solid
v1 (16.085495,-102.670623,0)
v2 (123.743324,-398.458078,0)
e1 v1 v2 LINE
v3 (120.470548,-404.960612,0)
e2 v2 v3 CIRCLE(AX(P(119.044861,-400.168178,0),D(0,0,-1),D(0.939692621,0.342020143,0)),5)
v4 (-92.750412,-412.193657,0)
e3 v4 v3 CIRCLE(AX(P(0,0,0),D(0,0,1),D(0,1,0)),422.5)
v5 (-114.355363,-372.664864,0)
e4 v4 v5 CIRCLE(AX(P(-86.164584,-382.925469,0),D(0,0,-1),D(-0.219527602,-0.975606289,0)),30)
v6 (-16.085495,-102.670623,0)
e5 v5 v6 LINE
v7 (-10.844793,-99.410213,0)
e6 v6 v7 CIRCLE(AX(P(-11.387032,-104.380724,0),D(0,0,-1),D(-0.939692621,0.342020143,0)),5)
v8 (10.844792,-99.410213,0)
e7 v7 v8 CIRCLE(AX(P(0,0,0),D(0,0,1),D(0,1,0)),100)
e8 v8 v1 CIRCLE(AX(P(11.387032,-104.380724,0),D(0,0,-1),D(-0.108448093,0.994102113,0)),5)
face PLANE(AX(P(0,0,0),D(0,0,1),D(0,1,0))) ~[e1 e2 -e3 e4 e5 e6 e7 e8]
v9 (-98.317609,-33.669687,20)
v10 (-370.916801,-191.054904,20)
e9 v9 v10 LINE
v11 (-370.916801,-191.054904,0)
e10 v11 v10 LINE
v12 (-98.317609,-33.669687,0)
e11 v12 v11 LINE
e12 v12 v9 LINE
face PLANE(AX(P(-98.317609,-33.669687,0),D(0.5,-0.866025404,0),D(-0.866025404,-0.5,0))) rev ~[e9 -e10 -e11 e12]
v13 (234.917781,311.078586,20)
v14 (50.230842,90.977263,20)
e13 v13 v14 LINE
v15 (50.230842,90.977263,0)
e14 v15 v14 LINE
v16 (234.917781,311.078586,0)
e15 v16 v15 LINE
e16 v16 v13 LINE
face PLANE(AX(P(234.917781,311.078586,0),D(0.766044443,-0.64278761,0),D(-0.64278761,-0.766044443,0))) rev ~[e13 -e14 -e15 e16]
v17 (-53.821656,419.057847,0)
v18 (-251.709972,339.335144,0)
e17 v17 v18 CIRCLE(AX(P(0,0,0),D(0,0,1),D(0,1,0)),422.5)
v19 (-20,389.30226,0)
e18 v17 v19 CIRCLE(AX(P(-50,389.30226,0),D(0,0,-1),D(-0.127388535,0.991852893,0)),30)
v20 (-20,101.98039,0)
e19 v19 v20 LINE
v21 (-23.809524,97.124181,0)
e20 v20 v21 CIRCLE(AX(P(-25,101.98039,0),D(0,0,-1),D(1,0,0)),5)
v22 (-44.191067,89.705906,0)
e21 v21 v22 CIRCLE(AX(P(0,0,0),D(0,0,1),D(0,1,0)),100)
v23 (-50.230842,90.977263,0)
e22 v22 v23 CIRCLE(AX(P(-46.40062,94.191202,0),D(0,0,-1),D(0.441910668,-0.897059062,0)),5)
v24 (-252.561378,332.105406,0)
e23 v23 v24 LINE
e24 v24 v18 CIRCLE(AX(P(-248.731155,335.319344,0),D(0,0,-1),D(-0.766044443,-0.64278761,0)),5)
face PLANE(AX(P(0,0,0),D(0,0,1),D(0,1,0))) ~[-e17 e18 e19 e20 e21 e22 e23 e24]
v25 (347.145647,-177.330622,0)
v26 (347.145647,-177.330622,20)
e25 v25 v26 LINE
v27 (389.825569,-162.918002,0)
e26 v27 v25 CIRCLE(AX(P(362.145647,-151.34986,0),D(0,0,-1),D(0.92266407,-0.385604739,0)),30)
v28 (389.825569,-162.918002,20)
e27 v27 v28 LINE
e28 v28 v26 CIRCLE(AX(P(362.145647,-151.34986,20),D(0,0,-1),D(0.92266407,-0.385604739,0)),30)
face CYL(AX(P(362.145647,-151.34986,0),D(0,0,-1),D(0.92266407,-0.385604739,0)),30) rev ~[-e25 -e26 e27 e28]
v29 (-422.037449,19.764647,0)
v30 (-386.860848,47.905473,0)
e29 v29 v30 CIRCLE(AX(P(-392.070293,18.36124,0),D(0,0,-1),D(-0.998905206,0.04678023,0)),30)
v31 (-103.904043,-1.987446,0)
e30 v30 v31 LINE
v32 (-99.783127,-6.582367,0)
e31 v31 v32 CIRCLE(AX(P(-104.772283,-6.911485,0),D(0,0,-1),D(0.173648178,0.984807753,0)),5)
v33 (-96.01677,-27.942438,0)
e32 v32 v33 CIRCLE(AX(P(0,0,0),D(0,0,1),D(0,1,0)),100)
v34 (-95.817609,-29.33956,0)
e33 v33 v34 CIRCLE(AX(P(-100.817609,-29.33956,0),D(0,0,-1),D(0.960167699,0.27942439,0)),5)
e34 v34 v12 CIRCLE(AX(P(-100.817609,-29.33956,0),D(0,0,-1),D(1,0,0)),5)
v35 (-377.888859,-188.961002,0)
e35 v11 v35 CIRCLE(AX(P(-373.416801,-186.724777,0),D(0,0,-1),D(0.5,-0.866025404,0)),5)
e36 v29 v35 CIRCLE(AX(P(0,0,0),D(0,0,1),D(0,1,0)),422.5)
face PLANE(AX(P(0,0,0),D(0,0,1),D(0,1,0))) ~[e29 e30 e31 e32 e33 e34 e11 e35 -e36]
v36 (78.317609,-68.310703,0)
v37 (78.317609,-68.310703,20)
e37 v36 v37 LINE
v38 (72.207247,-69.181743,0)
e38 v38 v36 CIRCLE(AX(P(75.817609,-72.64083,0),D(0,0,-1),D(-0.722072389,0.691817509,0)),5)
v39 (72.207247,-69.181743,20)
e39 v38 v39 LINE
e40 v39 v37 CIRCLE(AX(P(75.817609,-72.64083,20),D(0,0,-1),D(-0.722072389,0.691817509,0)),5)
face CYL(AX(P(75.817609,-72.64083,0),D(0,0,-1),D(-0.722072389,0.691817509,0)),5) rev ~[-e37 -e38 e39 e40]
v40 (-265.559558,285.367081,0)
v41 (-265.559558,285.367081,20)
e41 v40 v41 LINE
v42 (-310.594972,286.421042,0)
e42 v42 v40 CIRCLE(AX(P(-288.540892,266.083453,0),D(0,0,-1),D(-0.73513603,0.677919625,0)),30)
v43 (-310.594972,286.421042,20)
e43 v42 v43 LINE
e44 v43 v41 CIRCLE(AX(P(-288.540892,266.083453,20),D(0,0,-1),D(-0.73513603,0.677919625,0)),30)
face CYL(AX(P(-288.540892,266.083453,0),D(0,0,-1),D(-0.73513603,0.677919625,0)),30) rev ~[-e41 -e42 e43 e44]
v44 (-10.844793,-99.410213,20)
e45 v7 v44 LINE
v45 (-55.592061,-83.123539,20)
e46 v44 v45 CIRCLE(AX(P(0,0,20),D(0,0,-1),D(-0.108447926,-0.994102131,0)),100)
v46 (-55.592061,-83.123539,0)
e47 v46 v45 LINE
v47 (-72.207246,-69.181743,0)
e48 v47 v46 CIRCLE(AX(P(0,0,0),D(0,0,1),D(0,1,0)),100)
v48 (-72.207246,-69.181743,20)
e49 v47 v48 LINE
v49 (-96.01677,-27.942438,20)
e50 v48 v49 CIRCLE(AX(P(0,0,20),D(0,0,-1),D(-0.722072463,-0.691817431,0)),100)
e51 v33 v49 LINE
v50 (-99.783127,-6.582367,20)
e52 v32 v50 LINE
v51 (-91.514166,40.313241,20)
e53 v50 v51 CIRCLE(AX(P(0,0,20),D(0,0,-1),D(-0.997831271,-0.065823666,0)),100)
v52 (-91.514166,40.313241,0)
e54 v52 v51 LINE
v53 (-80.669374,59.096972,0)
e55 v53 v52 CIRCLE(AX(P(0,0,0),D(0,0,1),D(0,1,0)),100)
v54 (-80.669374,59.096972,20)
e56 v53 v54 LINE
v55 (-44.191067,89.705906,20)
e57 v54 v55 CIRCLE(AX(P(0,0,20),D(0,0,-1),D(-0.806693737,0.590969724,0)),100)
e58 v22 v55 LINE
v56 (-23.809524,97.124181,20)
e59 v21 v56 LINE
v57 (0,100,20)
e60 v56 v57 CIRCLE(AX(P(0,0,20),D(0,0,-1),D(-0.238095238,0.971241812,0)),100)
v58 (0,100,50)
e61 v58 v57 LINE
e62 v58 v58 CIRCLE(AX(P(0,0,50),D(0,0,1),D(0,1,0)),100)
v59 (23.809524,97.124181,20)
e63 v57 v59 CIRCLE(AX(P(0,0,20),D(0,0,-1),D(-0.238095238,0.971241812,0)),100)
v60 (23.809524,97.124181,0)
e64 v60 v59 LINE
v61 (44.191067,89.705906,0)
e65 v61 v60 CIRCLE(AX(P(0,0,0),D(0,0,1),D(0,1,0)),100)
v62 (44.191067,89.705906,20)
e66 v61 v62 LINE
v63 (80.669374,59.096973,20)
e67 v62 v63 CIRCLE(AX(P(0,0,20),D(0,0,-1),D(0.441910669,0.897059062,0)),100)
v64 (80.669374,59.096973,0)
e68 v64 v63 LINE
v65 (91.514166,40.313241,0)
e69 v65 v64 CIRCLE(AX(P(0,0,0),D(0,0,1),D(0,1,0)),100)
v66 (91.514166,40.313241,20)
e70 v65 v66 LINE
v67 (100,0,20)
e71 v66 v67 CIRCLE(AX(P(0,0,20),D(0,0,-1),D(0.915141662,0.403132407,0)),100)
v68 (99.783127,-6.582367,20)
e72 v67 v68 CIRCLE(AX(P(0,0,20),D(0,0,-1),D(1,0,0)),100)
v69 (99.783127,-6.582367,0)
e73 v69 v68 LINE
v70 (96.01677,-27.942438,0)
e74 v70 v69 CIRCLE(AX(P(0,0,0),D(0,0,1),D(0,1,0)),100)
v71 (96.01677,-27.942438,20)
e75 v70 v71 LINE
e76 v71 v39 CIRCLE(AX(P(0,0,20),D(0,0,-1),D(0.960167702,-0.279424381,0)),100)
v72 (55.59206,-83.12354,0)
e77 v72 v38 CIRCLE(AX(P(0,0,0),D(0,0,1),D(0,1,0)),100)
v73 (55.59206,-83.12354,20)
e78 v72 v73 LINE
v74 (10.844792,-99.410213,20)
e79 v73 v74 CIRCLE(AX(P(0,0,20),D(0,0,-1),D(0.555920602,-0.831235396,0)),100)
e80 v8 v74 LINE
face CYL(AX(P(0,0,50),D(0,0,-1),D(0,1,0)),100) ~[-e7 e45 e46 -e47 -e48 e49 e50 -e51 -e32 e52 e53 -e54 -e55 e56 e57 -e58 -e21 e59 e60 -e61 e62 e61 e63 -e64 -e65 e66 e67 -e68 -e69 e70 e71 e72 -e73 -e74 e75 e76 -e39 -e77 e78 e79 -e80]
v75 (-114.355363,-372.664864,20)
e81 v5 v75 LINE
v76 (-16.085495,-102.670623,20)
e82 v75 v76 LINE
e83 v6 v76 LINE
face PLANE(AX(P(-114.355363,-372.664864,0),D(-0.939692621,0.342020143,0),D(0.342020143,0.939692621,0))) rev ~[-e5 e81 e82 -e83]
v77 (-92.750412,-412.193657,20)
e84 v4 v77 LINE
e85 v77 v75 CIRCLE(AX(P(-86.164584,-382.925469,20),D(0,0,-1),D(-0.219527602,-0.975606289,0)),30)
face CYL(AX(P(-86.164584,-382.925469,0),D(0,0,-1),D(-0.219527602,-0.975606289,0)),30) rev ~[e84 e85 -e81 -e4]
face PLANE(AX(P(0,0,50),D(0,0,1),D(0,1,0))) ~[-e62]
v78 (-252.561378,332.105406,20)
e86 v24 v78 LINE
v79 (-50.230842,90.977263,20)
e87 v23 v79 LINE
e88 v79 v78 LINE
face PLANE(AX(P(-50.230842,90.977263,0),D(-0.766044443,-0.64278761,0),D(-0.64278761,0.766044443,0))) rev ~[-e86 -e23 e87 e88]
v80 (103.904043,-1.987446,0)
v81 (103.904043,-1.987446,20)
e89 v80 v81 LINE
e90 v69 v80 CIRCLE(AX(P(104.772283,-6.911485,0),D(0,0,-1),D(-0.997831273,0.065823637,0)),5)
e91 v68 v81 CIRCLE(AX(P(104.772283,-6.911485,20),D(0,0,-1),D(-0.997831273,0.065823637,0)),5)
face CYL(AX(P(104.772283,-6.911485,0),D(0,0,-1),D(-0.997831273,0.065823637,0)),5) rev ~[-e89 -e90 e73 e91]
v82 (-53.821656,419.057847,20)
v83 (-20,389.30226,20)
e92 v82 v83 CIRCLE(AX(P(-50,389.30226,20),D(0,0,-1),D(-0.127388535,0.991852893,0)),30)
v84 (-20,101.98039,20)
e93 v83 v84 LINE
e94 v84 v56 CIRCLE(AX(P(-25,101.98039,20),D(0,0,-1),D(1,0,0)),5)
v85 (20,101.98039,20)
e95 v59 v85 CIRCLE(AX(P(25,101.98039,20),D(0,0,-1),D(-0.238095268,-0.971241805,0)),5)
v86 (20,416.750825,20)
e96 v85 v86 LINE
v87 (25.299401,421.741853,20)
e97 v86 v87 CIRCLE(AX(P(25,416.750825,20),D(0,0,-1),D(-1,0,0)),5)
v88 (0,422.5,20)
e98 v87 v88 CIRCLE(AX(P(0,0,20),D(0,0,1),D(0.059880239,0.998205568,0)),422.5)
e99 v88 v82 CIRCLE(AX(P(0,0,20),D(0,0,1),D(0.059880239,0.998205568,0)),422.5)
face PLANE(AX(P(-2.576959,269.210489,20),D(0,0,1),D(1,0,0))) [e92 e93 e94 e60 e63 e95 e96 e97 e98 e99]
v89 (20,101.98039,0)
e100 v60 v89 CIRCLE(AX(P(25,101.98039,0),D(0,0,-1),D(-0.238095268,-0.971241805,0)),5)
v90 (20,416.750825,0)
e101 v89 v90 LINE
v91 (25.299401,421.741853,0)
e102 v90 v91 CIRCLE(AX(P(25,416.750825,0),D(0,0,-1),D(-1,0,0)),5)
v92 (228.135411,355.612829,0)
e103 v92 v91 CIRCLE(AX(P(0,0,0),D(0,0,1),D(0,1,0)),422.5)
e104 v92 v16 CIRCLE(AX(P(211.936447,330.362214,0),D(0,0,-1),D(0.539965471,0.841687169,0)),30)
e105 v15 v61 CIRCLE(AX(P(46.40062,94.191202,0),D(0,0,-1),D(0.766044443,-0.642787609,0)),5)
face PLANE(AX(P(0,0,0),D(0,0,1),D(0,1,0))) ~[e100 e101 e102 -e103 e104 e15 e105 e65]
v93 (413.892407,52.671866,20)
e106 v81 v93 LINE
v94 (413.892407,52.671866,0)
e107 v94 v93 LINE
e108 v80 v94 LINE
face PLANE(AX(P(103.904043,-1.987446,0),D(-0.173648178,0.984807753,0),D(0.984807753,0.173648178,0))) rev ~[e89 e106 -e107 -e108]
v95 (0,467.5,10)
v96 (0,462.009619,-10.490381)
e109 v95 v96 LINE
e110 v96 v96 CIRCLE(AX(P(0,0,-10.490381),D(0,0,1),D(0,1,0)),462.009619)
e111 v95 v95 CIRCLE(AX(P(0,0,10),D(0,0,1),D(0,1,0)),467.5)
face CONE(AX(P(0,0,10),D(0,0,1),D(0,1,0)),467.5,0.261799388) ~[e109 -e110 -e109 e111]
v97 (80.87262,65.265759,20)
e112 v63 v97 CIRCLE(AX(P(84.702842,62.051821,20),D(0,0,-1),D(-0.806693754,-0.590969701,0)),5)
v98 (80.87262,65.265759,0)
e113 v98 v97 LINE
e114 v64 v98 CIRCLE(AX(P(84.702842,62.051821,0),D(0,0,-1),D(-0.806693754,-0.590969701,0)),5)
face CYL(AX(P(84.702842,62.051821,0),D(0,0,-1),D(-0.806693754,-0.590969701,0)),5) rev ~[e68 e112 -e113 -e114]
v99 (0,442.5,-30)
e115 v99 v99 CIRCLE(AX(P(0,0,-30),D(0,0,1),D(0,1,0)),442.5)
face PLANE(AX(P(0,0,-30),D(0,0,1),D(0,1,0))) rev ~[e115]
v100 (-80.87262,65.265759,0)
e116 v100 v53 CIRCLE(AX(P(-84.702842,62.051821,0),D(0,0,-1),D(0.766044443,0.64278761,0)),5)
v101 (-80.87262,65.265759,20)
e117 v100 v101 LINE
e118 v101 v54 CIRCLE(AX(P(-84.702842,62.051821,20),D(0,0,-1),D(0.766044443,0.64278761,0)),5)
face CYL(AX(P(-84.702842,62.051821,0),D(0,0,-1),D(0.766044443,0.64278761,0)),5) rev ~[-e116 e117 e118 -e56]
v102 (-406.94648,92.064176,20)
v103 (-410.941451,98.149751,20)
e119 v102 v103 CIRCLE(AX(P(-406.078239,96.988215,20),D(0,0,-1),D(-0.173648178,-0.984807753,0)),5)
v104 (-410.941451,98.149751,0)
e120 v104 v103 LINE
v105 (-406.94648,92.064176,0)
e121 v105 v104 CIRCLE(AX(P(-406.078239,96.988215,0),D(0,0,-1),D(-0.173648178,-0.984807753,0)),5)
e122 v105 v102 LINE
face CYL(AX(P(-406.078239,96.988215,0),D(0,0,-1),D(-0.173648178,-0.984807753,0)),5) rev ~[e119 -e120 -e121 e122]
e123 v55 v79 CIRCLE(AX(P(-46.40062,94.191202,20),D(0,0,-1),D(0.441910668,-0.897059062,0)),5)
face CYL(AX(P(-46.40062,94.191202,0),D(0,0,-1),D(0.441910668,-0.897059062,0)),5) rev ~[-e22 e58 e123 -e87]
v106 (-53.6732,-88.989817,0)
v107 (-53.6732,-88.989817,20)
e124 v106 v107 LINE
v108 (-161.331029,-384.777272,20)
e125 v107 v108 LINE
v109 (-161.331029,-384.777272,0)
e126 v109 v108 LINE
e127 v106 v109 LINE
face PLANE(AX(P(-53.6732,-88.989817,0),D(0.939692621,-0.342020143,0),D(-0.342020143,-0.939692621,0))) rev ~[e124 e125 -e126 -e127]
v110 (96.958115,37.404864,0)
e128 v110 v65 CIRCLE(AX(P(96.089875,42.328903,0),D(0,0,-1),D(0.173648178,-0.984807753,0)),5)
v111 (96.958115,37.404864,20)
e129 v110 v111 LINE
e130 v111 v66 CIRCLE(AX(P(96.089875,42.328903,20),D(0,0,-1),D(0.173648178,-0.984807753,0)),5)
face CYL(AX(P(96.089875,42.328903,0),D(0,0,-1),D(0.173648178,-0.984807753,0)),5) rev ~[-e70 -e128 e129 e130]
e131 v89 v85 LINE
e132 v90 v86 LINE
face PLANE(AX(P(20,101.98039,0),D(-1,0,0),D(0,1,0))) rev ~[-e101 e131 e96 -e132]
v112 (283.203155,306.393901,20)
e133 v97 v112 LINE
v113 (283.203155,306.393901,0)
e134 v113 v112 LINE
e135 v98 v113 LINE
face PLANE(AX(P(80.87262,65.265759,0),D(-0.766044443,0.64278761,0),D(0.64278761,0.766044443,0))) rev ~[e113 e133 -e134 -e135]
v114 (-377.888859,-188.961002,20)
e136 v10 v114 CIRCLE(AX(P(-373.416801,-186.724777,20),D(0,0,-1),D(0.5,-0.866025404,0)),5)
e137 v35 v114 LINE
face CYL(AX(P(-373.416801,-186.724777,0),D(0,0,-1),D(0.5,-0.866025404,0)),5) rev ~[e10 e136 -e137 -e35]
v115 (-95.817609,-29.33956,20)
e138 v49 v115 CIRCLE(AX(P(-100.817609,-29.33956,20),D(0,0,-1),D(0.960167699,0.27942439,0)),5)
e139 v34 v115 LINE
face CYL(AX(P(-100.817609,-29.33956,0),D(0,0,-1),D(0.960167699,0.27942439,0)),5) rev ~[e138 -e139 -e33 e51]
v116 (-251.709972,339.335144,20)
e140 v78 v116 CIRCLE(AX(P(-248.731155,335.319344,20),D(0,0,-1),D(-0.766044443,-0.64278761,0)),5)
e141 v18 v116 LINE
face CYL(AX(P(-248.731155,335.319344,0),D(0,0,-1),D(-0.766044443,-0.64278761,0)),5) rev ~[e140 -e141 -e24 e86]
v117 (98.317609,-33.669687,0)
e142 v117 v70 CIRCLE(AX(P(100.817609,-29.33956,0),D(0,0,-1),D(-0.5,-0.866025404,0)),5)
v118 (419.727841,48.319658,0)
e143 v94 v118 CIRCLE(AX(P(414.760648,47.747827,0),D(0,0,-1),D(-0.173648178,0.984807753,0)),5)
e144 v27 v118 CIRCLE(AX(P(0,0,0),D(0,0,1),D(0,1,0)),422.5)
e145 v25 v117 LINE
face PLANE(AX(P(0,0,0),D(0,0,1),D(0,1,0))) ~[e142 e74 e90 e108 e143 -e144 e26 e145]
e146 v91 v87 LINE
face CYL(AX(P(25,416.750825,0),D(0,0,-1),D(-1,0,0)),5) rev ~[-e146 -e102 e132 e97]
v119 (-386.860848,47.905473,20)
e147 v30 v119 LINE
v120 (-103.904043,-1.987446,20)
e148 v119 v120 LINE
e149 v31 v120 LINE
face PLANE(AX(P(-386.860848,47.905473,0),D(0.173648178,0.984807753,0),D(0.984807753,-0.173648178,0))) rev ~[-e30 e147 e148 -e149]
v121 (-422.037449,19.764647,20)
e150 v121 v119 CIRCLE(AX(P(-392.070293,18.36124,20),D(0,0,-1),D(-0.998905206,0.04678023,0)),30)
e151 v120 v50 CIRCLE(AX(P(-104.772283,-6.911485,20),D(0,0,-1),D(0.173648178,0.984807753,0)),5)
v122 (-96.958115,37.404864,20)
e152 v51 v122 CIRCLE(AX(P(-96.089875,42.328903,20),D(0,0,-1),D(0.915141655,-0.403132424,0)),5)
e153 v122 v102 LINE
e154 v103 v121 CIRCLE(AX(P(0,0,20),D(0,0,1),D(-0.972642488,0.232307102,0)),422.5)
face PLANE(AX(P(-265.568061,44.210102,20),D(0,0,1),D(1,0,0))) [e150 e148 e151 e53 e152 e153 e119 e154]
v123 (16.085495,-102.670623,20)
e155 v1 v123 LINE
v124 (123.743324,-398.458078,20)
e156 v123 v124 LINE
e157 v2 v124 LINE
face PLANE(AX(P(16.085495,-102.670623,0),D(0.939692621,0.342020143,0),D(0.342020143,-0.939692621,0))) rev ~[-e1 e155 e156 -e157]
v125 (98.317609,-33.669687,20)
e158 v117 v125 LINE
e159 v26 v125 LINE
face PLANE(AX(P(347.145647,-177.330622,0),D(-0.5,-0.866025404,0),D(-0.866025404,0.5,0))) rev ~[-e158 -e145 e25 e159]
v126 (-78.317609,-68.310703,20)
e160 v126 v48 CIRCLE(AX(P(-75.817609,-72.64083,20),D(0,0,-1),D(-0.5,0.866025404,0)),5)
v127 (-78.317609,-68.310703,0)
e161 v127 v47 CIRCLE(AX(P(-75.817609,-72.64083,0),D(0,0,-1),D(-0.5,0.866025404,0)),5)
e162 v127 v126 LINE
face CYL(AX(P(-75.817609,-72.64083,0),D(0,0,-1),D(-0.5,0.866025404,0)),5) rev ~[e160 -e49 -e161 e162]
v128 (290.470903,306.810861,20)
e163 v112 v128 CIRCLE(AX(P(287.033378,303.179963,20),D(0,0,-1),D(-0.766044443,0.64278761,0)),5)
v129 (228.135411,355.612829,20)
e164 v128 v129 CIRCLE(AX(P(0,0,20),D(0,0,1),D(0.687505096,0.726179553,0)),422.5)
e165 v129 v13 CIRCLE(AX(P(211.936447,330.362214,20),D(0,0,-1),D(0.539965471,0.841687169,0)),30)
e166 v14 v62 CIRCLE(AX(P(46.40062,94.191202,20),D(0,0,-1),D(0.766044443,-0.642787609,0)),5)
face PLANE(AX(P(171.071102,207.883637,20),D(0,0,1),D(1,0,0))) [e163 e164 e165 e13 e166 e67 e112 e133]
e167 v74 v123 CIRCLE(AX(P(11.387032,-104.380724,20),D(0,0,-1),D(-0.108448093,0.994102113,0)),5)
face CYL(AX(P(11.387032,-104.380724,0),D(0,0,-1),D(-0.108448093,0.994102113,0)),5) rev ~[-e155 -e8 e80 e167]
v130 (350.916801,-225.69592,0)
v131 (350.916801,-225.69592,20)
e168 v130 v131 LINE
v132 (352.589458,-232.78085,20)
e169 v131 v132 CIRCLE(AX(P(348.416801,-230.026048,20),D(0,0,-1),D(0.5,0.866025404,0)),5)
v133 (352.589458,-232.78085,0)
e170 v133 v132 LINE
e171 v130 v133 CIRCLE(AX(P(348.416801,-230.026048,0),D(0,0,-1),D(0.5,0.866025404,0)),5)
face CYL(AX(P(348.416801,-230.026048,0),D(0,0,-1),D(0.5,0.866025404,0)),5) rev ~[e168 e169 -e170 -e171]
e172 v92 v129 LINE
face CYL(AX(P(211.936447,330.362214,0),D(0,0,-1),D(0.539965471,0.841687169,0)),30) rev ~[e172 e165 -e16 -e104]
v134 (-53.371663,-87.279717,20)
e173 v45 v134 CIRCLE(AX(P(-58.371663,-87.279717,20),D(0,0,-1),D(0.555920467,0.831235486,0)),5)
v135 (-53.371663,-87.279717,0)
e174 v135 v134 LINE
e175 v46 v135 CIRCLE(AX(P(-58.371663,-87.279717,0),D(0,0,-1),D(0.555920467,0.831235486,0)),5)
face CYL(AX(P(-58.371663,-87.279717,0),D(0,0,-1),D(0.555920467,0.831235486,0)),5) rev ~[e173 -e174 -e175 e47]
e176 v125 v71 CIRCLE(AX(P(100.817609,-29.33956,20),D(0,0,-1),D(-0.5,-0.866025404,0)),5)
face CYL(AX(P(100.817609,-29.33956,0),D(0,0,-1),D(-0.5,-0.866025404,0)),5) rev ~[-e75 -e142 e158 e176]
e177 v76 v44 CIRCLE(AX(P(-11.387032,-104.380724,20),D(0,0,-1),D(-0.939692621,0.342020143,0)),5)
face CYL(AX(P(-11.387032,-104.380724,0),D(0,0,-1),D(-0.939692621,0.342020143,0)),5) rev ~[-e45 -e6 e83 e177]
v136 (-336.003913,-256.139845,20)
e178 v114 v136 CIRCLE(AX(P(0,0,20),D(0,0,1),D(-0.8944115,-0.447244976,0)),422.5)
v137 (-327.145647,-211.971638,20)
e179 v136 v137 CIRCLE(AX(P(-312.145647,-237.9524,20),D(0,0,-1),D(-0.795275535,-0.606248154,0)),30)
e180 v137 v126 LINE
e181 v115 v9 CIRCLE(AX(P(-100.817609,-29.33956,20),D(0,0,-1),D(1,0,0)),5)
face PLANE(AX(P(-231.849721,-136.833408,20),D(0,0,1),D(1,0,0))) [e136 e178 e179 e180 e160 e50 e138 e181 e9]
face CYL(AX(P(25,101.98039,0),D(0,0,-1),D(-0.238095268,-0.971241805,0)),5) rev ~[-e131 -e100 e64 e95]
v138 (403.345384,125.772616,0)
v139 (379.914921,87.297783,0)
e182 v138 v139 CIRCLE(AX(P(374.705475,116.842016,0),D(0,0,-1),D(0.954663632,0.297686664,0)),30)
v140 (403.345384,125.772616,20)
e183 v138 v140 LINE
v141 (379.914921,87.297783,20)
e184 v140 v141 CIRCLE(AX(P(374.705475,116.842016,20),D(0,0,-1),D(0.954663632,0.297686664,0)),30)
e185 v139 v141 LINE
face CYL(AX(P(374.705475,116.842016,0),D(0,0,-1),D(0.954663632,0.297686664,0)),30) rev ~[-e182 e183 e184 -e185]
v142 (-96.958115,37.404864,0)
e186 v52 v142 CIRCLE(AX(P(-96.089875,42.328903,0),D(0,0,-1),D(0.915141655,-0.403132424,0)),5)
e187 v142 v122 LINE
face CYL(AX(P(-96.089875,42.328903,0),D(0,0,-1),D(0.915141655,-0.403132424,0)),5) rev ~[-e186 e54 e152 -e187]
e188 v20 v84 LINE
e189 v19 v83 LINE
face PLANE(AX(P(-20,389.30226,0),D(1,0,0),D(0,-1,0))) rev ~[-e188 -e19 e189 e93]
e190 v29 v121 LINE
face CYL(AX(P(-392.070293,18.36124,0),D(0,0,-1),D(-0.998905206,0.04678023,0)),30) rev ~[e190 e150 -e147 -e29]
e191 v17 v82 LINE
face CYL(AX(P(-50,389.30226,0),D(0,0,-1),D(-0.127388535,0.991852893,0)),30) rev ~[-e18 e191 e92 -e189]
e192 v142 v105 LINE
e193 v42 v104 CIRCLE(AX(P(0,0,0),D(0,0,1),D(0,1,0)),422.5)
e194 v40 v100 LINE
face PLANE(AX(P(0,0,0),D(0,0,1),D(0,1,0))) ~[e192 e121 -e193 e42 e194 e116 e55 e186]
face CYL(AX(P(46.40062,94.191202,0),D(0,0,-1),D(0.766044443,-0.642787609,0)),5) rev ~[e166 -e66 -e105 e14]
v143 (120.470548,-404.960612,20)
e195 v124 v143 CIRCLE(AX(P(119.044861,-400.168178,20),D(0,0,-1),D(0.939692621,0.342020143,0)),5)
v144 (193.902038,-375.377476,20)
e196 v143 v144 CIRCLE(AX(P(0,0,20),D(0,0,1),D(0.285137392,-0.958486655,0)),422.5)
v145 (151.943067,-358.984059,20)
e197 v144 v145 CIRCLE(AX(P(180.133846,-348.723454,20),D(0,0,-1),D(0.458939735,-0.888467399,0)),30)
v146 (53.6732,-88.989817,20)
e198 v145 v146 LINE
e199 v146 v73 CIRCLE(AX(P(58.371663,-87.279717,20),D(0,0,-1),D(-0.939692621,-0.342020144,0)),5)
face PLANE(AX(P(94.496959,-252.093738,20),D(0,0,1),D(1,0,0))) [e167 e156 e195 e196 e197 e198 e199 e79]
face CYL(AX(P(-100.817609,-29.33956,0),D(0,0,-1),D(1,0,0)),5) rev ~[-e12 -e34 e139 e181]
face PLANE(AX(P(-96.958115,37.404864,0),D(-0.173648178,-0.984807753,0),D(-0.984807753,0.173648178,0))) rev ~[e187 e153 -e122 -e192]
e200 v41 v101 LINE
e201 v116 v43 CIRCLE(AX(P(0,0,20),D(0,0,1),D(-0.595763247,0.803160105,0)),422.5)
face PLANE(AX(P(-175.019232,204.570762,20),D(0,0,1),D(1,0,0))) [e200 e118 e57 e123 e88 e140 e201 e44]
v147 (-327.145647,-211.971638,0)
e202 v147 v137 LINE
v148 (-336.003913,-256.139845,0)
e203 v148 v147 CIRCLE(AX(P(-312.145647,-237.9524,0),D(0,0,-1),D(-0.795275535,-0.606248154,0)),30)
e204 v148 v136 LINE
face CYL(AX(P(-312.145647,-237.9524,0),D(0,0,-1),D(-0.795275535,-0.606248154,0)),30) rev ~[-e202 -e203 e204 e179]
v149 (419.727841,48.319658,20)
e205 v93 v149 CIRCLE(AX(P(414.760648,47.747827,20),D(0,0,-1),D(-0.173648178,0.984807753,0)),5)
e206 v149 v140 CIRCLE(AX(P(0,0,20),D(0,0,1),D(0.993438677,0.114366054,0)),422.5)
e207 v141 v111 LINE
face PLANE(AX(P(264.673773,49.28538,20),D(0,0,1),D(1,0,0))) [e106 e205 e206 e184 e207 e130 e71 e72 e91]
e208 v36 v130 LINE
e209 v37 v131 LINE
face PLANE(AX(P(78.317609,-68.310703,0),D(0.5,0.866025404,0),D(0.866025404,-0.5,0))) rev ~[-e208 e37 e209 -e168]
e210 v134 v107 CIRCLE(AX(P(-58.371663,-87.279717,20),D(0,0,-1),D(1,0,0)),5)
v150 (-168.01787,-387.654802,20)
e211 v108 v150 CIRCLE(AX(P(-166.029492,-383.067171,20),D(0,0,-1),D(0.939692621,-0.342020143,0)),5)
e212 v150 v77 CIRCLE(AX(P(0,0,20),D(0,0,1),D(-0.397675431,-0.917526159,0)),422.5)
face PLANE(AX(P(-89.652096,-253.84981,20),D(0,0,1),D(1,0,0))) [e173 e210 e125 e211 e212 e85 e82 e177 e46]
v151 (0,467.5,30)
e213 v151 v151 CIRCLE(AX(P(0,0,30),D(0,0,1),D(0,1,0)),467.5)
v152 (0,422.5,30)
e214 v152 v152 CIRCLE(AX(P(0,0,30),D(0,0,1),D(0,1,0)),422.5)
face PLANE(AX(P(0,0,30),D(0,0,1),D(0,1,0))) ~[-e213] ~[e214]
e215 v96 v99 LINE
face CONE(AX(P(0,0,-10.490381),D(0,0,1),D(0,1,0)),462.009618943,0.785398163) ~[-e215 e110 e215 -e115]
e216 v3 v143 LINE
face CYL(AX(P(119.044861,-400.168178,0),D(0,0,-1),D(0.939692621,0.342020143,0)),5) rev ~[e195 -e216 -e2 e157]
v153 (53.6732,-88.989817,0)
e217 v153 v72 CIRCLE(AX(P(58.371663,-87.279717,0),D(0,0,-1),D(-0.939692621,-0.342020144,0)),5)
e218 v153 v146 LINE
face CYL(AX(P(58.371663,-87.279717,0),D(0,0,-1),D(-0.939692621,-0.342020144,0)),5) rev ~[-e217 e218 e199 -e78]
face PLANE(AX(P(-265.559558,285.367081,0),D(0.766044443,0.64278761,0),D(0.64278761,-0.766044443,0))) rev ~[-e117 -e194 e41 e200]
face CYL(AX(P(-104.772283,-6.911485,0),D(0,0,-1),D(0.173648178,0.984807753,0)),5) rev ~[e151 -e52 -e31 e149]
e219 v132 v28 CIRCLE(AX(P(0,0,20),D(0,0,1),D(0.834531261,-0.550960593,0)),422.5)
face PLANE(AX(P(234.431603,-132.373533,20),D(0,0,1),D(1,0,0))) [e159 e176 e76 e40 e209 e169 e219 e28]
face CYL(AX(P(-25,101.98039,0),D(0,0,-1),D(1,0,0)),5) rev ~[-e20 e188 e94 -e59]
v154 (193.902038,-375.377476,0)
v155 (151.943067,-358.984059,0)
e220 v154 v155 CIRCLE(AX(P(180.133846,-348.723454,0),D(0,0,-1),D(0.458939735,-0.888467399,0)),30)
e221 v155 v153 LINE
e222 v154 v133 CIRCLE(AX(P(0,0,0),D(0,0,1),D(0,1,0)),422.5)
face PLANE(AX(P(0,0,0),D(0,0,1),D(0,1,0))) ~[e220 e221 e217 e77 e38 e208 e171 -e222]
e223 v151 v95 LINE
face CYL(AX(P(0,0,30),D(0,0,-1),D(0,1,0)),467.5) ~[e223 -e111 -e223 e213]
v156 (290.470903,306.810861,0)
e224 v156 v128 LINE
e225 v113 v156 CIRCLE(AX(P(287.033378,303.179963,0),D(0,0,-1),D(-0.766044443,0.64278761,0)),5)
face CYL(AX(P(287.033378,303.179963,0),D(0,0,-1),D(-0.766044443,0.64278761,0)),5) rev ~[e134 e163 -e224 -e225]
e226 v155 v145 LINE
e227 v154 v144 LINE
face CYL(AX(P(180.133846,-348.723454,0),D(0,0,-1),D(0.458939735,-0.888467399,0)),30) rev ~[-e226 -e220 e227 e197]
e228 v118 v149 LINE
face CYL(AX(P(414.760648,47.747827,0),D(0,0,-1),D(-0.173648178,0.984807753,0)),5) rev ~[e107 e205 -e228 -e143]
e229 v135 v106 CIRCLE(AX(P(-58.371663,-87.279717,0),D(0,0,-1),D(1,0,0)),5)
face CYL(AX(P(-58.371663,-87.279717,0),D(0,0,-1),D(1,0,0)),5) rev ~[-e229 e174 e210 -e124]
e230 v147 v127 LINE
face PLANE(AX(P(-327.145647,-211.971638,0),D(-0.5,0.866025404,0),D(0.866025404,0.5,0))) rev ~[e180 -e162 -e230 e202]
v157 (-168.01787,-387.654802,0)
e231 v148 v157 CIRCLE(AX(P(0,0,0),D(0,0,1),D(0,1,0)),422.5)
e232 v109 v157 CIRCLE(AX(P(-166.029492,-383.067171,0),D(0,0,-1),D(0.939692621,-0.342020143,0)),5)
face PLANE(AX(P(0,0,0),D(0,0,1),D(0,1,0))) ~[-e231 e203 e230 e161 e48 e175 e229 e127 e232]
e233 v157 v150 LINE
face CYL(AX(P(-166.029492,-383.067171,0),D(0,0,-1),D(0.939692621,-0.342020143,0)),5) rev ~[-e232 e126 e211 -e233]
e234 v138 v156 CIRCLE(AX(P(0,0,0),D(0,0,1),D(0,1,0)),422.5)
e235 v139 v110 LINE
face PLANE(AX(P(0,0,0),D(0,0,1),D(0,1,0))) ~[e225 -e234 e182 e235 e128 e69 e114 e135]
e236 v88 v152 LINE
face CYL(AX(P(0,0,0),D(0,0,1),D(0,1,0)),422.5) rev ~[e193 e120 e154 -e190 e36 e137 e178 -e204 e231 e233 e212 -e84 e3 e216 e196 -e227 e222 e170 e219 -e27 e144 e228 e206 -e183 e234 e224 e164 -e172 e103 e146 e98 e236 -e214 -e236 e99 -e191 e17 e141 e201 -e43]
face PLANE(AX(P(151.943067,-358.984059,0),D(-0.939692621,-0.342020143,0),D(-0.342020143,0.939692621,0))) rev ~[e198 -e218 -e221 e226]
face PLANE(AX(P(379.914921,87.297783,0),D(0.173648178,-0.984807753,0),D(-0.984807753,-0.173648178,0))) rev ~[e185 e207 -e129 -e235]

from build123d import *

# Parameters (mm, degrees)
BOSS_EXTRUDE2_DEPTH = 20


with BuildPart() as part:
    # Sketch1 → Revolve2 (revolve)
    with BuildSketch(Plane(origin=(0, 0, 0), x_dir=(0, 0, -1), z_dir=(1, 0, 0))):
        Polygon((-50, 0), (-50, 100), (0, 100), (0, 422.5), (-30, 422.5), (-30, 467.5), (-10, 467.5), (10.490381057, 462.009618943), (30, 442.5), (30, 0), align=None)
    revolve(axis=Axis((0, 0, -30), (0, 0, 1)))

    # Sketch2 → Boss-Extrude2 (add)
    with BuildSketch(Plane.XY):
        with BuildLine():
            ThreePointArc((20, 416.750824834), (21.571954346, 420.390674143), (25.299401198, 421.741852677))
            ThreePointArc((25.299401198, 421.741852677), (-14.324130925, 422.257112756), (-53.821656051, 419.057847248))
            ThreePointArc((-53.821656051, 419.057847248), (-30.183967117, 411.826133147), (-20, 389.302260461))
            Line((-20, 389.302260461), (-20, 101.980390272))
            ThreePointArc((-20, 101.980390272), (-21.066021038, 98.894323273), (-23.80952381, 97.124181211))
            ThreePointArc((-23.80952381, 97.124181211), (-7.6e-08, 100), (23.809523662, 97.124181247))
            ThreePointArc((23.809523662, 97.124181247), (21.066020991, 98.894323332), (20, 101.980390272))
            Line((20, 101.980390272), (20, 416.750824834))
        make_face()
        with BuildLine():
            Line((80.87262016, 65.265759081), (283.203155392, 306.393901336))
            ThreePointArc((283.203155392, 306.393901336), (286.746992321, 308.171754896), (290.470903088, 306.810861051))
            ThreePointArc((290.470903088, 306.810861051), (260.448719284, 332.675088673), (228.135411415, 355.612828872))
            ThreePointArc((228.135411415, 355.612828872), (241.594475451, 334.879000902), (234.917780585, 311.078585513))
            Line((234.917780585, 311.078585513), (50.230842435, 90.977263469))
            ThreePointArc((50.230842435, 90.977263469), (47.430537313, 89.298424107), (44.191066876, 89.705906207))
            ThreePointArc((44.191066876, 89.705906207), (64.278760914, 76.604444358), (80.669373607, 59.096972527))
            ThreePointArc((80.669373607, 59.096972527), (79.705554025, 62.216469562), (80.87262016, 65.265759081))
        make_face()
        with BuildLine():
            ThreePointArc((419.7278412, 48.319657717), (413.354719175, 87.430693327), (403.345384438, 125.772615671))
            ThreePointArc((403.345384438, 125.772615671), (400.328177931, 101.23826237), (379.914920814, 87.297783151))
            Line((379.914920814, 87.297783151), (96.958115442, 37.404863989))
            ThreePointArc((96.958115442, 37.404863989), (93.733820124, 37.918799861), (91.514166241, 40.313240718))
            ThreePointArc((91.514166241, 40.313240718), (97.855548193, 20.598341874), (100, 0))
            ThreePointArc((100, 0), (99.945767062, -3.292969231), (99.783127073, -6.582366715))
            ThreePointArc((99.783127073, -6.582366715), (101.049972403, -3.57316188), (103.904042548, -1.987446132))
            Line((103.904042548, -1.987446132), (413.892406924, 52.671866213))
            ThreePointArc((413.892406924, 52.671866213), (417.749925751, 51.755846586), (419.7278412, 48.319657717))
        make_face()
        with BuildLine():
            ThreePointArc((-252.561377668, 332.105405723), (-253.696840813, 335.904124837), (-251.709971685, 339.335144296))
            ThreePointArc((-251.709971685, 339.335144296), (-282.39456108, 314.260340916), (-310.59497249, 286.421041587))
            ThreePointArc((-310.59497249, 286.421041587), (-287.838996013, 296.075240754), (-265.55955831, 285.367081126))
            Line((-265.55955831, 285.367081126), (-80.87262016, 65.265759081))
            ThreePointArc((-80.87262016, 65.265759081), (-79.705554022, 62.216469491), (-80.669373691, 59.096972412))
            ThreePointArc((-80.669373691, 59.096972412), (-64.27876097, 76.604444311), (-44.191066878, 89.705906206))
            ThreePointArc((-44.191066878, 89.705906206), (-47.430537315, 89.298424108), (-50.230842435, 90.977263469))
            Line((-50.230842435, 90.977263469), (-252.561377668, 332.105405723))
        make_face()
        with BuildLine():
            ThreePointArc((-406.946479818, 92.064176334), (-410.25806463, 94.244302361), (-410.941451372, 98.149750609))
            ThreePointArc((-410.941451372, 98.149750609), (-418.329437639, 59.217662947), (-422.037449422, 19.764647353))
            ThreePointArc((-422.037449422, 19.764647353), (-410.8109597, 41.787452703), (-386.86084792, 47.90547303))
            Line((-386.86084792, 47.90547303), (-103.904042548, -1.987446132))
            ThreePointArc((-103.904042548, -1.987446132), (-101.049972452, -3.573161825), (-99.783127082, -6.582366568))
            ThreePointArc((-99.783127082, -6.582366568), (-98.480775309, 17.364817721), (-91.514166278, 40.313240634))
            ThreePointArc((-91.514166278, 40.313240634), (-93.733820164, 37.918799839), (-96.958115442, 37.404863989))
            Line((-96.958115442, 37.404863989), (-406.946479818, 92.064176334))
        make_face()
        with BuildLine():
            ThreePointArc((-370.916801355, -191.054904341), (-374.854980495, -191.513476599), (-377.888858856, -188.961002201))
            ThreePointArc((-377.888858856, -188.961002201), (-358.523321113, -223.533617647), (-336.003913346, -256.139845038))
            ThreePointArc((-336.003913346, -256.139845038), (-341.559909689, -232.053148883), (-327.14564731, -211.971638306))
            Line((-327.14564731, -211.971638306), (-78.317608663, -68.310703212))
            ThreePointArc((-78.317608663, -68.310703212), (-75.111985725, -67.690871012), (-72.207246346, -69.181743077))
            ThreePointArc((-72.207246346, -69.181743077), (-86.60254039, -49.999999979), (-96.016770169, -27.942438089))
            ThreePointArc((-96.016770169, -27.942438089), (-95.867649448, -28.63393708), (-95.817608663, -29.339560041))
            ThreePointArc((-95.817608663, -29.339560041), (-96.487481644, -31.839560041), (-98.317608663, -33.66968706))
            Line((-98.317608663, -33.66968706), (-370.916801355, -191.054904341))
        make_face()
        with BuildLine():
            ThreePointArc((-168.017869515, -387.654802013), (-130.960158095, -401.691034243), (-92.750411948, -412.193657258))
            ThreePointArc((-92.750411948, -412.193657258), (-112.489181919, -397.313503124), (-114.355362504, -372.664864277))
            Line((-114.355362504, -372.664864277), (-16.085495281, -102.67062307))
            ThreePointArc((-16.085495281, -102.67062307), (-14.028266101, -100.135269351), (-10.84479255, -99.41021313))
            ThreePointArc((-10.84479255, -99.41021313), (-34.202014712, -93.96926194), (-55.592060878, -83.123539189))
            ThreePointArc((-55.592060878, -83.123539189), (-53.961560514, -84.923661834), (-53.371663217, -87.27971662))
            ThreePointArc((-53.371663217, -87.27971662), (-53.447624452, -88.147957509), (-53.673200113, -88.989817337))
            Line((-53.673200113, -88.989817337), (-161.331029257, -384.777271937))
            ThreePointArc((-161.331029257, -384.777271937), (-164.053084938, -387.659971423), (-168.017869515, -387.654802013))
        make_face()
        with BuildLine():
            ThreePointArc((120.470548283, -404.96061166), (157.880718355, -391.892751619), (193.902038007, -375.377476225))
            ThreePointArc((193.902038007, -375.377476225), (169.21648425, -376.666453605), (151.943067336, -358.984058544))
            Line((151.943067336, -358.984058544), (53.673200113, -88.989817337))
            ThreePointArc((53.673200113, -88.989817337), (53.619435138, -85.725262282), (55.592060207, -83.123539638))
            ThreePointArc((55.592060207, -83.123539638), (34.202013938, -93.969262222), (10.844791714, -99.410213221))
            ThreePointArc((10.844791714, -99.410213221), (14.028265745, -100.135269129), (16.085495281, -102.67062307))
            Line((16.085495281, -102.67062307), (123.743324425, -398.45807767))
            ThreePointArc((123.743324425, -398.45807767), (123.511072308, -402.416057257), (120.470548283, -404.96061166))
        make_face()
        with BuildLine():
            ThreePointArc((352.589457658, -232.780850476), (372.847452038, -198.72349511), (389.825569397, -162.91800221))
            ThreePointArc((389.825569397, -162.91800221), (371.743876806, -179.772984263), (347.14564731, -177.330622155))
            Line((347.14564731, -177.330622155), (98.317608663, -33.66968706))
            ThreePointArc((98.317608663, -33.66968706), (96.178006763, -31.203452261), (96.016770156, -27.942438135))
            ThreePointArc((96.016770156, -27.942438135), (86.602540514, -49.999999765), (72.207246721, -69.181742686))
            ThreePointArc((72.207246721, -69.181742686), (75.111985993, -67.690870973), (78.317608663, -68.310703212))
            Line((78.317608663, -68.310703212), (350.916801355, -225.695920493))
            ThreePointArc((350.916801355, -225.695920493), (353.283026149, -228.877197545), (352.589457658, -232.780850476))
        make_face()
    extrude(amount=BOSS_EXTRUDE2_DEPTH)


solid = part.part
